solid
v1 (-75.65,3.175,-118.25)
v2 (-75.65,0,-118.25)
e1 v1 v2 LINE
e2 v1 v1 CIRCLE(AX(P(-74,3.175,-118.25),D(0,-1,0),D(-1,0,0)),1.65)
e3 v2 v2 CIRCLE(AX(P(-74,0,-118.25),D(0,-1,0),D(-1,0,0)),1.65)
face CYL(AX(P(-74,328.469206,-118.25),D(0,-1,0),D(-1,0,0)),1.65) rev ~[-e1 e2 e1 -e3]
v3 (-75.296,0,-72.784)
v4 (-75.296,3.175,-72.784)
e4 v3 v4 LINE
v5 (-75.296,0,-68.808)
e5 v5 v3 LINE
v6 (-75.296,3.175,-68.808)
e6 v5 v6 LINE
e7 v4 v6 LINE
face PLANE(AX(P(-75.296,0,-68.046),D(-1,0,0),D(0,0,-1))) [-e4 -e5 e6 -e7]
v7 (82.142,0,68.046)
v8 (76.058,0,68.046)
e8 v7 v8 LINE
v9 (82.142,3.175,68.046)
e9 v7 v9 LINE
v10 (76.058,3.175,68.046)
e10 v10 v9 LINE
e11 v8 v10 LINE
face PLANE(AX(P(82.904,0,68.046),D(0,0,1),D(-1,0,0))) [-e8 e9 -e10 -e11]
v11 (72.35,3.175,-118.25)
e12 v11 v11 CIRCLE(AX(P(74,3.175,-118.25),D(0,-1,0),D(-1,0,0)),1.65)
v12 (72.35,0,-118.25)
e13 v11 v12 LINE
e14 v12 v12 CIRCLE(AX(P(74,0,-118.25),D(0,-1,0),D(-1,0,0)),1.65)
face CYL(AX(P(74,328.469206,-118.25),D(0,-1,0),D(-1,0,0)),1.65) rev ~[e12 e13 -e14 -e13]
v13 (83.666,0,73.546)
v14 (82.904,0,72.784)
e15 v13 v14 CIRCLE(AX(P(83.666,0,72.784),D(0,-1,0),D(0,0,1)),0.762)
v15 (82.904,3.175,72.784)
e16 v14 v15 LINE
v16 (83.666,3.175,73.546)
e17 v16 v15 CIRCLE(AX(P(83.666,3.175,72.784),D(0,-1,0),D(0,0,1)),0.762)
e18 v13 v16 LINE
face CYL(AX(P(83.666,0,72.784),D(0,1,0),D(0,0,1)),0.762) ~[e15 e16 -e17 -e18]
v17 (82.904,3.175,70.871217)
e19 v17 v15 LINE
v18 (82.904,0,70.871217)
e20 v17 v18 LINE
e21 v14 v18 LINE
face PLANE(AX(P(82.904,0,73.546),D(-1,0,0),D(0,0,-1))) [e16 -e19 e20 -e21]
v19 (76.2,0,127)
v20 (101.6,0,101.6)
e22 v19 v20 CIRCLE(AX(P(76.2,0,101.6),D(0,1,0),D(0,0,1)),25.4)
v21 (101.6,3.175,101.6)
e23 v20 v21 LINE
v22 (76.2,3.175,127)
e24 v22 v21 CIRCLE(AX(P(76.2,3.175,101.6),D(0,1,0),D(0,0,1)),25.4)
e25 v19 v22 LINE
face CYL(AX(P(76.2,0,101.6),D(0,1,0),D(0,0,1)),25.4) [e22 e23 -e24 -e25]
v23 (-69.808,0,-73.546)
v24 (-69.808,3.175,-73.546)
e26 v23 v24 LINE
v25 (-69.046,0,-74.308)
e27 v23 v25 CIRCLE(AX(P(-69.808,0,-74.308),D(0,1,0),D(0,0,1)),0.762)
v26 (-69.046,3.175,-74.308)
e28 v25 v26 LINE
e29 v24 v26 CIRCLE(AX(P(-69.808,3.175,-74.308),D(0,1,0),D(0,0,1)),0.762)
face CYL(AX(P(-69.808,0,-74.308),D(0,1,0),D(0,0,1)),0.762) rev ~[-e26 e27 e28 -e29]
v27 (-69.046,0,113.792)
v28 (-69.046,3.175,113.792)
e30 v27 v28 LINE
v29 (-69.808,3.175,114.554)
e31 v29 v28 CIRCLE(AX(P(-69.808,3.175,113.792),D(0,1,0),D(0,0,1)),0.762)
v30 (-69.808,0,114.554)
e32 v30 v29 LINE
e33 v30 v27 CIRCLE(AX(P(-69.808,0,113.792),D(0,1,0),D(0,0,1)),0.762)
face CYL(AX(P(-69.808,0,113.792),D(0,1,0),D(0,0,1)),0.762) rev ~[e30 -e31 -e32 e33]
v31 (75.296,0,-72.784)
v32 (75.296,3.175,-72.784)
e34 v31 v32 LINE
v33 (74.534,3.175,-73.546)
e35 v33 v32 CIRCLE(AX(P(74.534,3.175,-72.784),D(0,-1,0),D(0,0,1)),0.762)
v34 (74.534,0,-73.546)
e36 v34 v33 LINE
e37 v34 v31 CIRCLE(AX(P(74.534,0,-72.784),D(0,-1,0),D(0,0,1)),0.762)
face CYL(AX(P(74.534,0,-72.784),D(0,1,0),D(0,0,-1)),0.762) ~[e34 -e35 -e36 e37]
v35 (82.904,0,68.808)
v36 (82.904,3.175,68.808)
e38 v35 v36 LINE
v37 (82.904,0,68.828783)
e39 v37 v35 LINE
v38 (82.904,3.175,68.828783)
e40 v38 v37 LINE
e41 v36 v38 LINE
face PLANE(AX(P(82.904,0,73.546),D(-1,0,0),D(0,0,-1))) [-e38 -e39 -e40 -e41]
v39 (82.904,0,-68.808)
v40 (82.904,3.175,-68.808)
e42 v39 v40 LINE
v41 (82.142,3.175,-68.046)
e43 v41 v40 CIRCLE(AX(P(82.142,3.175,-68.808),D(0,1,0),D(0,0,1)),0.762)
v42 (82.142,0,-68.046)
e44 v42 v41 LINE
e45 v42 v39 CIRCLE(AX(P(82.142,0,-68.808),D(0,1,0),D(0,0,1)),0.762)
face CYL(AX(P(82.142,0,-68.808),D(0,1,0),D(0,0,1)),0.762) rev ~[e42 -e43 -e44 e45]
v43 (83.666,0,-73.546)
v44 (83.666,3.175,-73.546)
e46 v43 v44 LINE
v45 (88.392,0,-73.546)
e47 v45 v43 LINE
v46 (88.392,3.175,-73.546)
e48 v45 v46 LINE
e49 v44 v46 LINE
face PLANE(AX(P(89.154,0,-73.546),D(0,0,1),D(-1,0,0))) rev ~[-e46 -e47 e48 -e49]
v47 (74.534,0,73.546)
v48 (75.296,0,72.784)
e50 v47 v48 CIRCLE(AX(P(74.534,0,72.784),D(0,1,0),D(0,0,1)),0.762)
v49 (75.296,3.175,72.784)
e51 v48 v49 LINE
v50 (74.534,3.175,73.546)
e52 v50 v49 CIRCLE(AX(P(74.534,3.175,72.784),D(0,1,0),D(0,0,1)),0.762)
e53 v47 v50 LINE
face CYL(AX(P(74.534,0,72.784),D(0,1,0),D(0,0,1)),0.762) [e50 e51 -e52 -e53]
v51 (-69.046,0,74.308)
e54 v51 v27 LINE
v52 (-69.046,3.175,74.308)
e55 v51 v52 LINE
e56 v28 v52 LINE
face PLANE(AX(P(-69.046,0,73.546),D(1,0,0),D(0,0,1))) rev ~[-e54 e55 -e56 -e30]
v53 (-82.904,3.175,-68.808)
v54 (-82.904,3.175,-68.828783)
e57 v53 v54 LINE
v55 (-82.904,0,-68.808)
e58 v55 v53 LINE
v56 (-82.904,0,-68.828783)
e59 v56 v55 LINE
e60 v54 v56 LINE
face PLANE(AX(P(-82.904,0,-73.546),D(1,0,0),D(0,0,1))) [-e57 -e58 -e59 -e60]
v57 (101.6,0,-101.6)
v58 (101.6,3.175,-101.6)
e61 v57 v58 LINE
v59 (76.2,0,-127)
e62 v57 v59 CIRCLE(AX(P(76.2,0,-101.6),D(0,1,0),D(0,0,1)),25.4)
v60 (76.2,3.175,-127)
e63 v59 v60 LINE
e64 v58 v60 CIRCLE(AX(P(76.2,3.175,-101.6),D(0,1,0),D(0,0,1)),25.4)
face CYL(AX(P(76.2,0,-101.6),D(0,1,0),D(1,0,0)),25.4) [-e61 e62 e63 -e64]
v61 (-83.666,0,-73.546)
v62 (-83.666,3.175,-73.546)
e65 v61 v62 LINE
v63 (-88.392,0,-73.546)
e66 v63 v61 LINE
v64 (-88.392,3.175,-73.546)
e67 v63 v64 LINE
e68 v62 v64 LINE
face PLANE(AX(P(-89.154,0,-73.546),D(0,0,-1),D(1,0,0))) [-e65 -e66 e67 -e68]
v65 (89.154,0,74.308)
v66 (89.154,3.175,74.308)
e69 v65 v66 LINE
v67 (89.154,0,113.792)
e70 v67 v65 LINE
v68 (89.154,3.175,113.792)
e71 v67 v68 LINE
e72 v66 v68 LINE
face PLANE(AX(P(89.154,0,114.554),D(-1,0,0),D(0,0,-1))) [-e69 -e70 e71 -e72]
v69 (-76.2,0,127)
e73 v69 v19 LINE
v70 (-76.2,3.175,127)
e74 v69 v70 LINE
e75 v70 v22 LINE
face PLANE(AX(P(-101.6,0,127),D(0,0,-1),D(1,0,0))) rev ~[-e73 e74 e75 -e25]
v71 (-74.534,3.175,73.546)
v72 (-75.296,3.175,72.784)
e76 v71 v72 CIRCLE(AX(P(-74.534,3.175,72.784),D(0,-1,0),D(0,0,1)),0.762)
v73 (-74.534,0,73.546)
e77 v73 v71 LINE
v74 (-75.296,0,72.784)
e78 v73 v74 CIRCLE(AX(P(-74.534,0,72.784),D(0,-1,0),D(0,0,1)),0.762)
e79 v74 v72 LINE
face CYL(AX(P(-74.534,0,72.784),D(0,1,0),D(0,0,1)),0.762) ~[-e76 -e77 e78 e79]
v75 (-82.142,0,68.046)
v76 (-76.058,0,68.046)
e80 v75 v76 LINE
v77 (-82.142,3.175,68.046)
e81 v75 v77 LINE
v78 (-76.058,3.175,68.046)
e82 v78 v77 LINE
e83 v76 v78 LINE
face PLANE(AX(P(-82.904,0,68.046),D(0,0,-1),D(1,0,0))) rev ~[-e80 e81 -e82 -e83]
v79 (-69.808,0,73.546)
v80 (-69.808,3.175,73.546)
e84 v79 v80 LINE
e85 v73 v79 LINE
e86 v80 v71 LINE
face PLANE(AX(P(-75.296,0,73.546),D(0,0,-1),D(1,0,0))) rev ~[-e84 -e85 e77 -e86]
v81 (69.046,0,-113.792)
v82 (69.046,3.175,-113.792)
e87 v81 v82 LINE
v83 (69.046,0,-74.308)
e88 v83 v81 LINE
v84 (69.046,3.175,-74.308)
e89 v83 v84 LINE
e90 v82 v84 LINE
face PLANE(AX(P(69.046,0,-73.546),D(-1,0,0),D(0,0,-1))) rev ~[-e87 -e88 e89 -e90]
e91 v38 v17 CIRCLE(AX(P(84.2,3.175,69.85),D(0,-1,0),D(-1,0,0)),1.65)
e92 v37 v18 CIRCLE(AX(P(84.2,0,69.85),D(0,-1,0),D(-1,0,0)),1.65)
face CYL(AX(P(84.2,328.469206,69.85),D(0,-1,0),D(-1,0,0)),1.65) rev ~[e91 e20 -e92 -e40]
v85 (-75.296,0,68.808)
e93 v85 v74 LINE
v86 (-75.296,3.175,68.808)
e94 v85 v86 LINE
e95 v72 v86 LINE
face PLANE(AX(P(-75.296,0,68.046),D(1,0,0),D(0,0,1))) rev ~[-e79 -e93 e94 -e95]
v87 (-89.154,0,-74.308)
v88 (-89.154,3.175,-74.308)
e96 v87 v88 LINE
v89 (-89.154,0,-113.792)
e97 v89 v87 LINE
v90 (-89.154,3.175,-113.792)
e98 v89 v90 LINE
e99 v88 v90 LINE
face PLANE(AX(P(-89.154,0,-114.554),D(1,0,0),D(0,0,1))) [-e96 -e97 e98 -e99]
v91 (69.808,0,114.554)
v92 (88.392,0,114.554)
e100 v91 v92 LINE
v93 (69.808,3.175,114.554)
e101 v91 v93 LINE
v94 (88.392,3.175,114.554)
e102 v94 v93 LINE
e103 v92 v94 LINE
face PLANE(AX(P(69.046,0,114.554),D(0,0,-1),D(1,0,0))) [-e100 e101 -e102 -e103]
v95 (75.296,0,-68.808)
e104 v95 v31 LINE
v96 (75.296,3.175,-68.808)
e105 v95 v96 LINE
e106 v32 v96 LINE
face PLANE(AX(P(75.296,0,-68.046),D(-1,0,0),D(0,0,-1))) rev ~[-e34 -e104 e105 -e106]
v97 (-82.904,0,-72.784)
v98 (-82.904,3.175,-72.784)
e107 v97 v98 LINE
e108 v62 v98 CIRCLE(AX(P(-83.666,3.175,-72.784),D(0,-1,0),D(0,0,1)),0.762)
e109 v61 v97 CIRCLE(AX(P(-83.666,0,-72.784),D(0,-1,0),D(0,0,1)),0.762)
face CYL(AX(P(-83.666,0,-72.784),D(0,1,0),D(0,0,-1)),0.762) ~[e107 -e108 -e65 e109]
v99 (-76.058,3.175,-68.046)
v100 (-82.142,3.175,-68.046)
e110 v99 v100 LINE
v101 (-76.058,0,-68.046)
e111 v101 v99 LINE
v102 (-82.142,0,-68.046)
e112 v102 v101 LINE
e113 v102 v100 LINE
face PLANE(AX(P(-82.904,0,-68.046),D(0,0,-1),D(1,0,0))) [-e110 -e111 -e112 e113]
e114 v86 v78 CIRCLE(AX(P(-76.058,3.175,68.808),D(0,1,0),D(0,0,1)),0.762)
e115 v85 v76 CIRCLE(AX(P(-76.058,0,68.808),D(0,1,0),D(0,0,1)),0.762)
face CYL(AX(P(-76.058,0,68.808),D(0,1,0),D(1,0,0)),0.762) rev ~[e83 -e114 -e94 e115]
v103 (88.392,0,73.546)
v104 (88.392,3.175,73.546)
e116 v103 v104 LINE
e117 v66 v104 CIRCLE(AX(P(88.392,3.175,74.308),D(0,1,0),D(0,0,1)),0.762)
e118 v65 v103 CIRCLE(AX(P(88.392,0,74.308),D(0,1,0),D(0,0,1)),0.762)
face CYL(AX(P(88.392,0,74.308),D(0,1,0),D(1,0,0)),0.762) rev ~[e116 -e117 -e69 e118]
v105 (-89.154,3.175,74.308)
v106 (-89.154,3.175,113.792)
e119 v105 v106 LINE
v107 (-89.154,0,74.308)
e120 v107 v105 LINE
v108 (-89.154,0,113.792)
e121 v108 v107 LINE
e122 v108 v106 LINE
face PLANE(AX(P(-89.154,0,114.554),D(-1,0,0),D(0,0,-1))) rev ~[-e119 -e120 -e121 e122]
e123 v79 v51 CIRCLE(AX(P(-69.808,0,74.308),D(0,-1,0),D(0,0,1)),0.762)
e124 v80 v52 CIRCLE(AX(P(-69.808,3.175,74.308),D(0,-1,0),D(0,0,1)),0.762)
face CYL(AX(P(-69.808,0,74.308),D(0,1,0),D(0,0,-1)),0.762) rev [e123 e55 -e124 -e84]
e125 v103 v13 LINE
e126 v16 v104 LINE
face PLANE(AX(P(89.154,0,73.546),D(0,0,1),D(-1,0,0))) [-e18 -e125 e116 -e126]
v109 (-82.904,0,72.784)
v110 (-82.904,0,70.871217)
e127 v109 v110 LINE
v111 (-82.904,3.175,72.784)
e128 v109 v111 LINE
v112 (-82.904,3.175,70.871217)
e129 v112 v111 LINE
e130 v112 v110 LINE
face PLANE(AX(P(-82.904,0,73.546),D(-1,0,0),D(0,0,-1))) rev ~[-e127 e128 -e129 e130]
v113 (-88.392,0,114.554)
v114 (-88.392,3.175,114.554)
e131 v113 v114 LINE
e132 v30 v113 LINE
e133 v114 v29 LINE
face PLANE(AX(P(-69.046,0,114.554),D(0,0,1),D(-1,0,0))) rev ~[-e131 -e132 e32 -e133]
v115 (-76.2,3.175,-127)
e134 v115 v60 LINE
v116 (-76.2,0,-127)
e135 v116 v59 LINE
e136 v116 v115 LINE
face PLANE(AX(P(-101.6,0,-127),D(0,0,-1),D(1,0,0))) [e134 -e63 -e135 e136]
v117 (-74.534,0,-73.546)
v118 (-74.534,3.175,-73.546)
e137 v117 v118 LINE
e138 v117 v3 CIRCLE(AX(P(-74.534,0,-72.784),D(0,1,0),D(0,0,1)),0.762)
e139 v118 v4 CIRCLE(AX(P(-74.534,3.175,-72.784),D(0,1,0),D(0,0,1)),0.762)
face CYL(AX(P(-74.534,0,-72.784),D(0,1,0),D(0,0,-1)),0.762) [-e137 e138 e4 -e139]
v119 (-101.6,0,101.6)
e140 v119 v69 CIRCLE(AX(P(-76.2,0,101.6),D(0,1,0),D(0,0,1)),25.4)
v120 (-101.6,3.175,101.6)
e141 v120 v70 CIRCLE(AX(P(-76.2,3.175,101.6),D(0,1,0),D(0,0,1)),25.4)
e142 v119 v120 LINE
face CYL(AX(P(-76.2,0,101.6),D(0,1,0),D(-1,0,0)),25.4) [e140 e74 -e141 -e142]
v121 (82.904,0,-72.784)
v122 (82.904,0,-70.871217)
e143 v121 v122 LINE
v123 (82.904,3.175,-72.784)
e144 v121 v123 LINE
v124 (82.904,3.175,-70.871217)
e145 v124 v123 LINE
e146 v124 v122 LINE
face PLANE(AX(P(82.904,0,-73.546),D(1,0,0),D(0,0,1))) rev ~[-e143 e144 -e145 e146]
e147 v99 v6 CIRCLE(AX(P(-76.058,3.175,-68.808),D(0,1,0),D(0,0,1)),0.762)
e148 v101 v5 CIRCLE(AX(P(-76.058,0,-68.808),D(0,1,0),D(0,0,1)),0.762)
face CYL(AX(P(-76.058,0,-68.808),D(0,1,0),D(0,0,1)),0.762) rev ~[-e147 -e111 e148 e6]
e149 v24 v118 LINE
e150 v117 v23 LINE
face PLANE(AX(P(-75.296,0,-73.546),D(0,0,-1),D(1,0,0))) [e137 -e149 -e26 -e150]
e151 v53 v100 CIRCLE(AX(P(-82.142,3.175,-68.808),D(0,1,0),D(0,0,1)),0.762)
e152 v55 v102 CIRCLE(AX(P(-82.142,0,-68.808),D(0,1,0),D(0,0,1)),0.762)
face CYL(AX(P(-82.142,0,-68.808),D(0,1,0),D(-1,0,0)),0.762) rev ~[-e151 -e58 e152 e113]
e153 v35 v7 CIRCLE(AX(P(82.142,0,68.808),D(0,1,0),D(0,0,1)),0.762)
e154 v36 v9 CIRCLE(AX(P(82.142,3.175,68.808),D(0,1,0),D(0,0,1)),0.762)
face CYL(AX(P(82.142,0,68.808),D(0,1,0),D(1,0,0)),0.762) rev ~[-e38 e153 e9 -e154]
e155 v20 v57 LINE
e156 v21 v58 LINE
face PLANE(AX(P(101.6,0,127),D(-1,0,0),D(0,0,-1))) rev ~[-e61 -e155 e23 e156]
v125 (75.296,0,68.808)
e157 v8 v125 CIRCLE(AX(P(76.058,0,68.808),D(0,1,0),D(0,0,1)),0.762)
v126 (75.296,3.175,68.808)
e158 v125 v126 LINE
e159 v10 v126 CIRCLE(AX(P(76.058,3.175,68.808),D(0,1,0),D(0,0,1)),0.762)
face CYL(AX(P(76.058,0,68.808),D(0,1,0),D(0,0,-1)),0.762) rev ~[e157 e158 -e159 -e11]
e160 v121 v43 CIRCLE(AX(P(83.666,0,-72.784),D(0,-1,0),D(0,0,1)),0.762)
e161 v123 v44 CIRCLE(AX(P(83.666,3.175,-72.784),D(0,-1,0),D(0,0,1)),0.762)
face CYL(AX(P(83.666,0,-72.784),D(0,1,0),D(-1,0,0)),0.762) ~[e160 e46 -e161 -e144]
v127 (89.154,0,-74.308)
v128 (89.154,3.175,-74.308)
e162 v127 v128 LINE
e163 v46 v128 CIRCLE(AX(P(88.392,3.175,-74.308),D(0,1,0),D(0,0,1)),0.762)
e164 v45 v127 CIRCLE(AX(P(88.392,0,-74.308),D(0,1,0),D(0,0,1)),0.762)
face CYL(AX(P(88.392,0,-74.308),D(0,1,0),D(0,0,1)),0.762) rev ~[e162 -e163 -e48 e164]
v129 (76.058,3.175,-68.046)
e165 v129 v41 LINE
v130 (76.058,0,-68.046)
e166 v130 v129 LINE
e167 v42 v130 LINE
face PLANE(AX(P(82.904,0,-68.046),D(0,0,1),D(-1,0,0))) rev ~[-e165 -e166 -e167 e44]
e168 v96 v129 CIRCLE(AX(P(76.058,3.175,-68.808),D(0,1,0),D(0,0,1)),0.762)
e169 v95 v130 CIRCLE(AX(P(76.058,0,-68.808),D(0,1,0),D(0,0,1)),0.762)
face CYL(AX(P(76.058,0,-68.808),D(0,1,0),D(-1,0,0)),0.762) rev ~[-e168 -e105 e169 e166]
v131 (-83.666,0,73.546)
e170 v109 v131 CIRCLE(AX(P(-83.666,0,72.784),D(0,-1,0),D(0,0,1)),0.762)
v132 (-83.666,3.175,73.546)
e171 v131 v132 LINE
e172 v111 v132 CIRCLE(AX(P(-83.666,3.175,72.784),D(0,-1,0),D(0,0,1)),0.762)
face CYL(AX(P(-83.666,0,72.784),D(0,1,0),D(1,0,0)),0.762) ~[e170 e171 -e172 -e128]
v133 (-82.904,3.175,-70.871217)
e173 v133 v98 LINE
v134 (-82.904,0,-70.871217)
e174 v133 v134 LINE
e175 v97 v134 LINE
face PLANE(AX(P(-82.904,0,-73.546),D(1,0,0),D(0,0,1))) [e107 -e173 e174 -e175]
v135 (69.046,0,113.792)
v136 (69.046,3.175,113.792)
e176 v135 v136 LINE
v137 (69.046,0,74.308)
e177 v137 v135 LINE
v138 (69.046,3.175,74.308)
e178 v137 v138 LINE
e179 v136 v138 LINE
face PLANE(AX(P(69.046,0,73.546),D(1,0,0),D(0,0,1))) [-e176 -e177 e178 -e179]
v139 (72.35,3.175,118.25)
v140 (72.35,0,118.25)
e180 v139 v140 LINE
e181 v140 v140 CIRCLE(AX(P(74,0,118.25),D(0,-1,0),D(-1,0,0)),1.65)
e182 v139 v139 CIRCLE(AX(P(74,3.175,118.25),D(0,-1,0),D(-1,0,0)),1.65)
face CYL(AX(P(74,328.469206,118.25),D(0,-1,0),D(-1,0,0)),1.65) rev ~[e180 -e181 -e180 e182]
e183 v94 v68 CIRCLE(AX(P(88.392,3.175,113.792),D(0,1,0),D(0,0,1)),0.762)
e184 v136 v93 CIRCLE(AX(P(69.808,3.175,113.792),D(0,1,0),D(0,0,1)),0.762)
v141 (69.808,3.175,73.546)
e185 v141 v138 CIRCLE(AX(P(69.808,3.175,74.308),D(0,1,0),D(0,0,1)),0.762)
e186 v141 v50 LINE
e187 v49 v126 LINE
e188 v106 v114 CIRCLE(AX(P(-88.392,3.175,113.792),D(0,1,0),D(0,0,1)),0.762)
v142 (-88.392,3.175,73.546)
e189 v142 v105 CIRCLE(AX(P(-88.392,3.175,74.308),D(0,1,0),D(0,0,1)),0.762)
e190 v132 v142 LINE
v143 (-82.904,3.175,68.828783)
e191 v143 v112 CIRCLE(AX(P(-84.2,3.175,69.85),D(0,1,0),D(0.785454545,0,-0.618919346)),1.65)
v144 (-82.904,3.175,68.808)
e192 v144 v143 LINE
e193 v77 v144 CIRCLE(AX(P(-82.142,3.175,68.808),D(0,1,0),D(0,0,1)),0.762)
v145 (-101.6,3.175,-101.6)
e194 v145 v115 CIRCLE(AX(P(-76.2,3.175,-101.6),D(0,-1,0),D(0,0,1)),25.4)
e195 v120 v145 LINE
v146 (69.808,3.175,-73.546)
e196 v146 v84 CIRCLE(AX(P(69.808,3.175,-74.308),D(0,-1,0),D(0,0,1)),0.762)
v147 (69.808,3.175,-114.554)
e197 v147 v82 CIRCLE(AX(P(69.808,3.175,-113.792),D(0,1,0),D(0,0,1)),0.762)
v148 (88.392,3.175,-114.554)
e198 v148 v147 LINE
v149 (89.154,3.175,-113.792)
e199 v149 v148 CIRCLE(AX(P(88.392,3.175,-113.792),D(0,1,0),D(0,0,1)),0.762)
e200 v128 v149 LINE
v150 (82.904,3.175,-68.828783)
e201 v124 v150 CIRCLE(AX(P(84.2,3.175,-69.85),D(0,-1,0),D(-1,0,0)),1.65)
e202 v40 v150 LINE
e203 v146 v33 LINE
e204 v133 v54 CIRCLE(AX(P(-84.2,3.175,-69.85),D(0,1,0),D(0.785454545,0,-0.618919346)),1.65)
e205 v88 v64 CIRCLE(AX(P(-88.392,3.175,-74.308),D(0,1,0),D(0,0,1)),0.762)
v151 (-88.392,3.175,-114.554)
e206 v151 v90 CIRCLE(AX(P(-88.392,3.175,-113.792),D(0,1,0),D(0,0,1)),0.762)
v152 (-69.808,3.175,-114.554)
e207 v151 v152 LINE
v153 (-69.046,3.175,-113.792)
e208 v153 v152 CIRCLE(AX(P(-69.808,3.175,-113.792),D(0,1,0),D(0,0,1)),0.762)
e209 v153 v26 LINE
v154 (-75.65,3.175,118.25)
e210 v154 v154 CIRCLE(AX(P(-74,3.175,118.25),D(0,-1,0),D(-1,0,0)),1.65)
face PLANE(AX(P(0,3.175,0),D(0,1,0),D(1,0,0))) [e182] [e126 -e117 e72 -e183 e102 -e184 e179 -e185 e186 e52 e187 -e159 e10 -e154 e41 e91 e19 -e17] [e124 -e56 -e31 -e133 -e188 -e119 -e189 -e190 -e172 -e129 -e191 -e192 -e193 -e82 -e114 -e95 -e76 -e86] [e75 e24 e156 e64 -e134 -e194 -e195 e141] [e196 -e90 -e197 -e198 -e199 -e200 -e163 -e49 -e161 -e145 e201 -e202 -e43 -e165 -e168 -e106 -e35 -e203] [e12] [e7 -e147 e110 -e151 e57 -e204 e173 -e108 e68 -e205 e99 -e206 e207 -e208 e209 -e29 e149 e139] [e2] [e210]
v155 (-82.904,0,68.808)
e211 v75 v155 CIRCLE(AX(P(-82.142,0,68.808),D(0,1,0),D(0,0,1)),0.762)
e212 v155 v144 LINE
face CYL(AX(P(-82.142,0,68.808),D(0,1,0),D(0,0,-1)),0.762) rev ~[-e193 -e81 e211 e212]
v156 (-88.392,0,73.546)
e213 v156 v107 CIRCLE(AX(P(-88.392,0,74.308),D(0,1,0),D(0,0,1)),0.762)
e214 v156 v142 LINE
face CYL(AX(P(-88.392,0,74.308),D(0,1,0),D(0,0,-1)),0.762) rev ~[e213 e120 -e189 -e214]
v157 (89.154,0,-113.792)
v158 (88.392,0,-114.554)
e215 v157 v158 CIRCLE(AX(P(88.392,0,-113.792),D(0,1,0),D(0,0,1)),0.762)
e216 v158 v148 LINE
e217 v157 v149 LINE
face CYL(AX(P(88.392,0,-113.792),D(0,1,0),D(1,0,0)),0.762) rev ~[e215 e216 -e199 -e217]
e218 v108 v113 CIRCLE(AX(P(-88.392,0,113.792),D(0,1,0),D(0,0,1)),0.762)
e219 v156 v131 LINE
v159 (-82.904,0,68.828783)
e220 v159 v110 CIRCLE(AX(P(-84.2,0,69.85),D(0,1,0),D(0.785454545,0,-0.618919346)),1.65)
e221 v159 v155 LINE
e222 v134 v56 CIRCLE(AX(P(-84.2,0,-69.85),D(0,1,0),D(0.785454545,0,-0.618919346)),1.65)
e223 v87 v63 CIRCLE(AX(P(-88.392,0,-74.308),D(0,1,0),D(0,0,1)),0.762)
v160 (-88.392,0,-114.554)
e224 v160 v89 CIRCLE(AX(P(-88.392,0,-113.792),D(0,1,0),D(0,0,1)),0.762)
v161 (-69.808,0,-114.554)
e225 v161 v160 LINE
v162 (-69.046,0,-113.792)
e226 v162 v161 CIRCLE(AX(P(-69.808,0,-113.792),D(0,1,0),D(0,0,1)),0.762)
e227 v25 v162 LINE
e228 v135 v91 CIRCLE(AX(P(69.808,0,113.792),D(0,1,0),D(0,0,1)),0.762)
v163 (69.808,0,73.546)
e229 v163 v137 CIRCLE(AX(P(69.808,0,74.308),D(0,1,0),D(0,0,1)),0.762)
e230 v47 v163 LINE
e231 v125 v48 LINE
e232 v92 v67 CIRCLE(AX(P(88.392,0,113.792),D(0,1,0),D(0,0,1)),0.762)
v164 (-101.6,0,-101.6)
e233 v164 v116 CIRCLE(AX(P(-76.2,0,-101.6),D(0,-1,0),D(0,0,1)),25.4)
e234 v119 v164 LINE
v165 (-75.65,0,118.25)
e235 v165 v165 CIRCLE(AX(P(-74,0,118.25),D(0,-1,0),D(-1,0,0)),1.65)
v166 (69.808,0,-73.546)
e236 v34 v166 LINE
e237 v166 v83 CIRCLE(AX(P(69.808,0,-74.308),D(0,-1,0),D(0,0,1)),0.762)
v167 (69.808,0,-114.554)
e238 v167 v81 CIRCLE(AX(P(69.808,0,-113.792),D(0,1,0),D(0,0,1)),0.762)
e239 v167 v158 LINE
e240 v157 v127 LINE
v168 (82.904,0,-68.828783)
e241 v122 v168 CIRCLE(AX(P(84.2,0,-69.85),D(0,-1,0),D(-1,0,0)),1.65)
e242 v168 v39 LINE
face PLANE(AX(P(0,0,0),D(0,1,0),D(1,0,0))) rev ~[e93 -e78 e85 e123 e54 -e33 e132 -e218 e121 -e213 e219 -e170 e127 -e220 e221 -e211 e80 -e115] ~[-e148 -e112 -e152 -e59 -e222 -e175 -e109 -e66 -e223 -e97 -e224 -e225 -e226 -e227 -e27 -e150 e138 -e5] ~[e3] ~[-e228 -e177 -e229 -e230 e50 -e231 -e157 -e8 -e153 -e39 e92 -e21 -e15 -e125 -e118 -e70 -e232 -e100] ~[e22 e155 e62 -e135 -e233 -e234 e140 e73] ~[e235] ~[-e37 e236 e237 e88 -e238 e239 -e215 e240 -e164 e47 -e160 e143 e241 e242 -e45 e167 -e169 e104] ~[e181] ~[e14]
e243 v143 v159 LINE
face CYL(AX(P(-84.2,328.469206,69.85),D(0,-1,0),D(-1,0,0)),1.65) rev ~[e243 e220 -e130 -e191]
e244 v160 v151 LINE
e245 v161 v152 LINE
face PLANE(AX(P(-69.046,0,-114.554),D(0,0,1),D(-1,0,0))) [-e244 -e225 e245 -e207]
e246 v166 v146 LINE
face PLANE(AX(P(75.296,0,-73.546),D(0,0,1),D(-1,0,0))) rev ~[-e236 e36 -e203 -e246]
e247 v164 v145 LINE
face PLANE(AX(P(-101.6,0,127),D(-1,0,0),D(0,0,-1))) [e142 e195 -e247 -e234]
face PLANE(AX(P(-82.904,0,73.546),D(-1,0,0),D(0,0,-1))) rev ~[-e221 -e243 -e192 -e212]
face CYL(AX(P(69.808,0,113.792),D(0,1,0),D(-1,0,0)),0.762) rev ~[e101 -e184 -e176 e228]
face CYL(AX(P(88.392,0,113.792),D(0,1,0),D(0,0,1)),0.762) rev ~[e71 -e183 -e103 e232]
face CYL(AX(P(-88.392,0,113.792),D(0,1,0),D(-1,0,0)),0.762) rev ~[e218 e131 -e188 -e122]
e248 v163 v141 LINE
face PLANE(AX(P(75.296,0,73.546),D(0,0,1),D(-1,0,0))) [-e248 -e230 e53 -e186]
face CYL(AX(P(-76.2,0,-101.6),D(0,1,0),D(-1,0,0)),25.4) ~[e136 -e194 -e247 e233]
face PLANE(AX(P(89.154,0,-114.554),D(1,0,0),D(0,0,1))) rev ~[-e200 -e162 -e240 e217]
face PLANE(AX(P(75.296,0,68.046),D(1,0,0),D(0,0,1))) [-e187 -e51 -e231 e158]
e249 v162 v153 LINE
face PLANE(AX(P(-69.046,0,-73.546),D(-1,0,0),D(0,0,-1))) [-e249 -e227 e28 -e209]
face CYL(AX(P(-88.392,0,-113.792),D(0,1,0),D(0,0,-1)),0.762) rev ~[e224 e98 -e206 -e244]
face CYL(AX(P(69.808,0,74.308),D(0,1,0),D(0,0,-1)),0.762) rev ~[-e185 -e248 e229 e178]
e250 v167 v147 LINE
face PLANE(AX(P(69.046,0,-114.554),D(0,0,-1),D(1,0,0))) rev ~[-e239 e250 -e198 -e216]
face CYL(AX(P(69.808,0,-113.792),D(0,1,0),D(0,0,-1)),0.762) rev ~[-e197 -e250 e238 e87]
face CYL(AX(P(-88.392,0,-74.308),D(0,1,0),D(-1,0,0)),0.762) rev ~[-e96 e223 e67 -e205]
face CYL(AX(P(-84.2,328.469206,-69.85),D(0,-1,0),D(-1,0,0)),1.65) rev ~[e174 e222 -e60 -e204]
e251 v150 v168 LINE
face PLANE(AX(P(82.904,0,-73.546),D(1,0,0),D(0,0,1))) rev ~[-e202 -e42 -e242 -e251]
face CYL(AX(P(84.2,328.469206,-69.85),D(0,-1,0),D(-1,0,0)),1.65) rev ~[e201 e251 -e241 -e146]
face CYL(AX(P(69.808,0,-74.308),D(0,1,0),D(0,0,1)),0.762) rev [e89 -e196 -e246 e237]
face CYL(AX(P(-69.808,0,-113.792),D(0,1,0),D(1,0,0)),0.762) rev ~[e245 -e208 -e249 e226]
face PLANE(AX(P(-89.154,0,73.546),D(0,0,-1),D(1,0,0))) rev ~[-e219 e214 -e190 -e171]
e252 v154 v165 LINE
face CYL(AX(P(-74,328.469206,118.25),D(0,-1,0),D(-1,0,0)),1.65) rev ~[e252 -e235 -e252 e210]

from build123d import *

# Parameters (mm, degrees)
SKETCH1_W             = 203.2
SKETCH1_H             = 254
BOSS_EXTRUDE1_DEPTH   = 3.175
FILLET1_R             = 25.4
CUT_EXTRUDE1_DEPTH    = 25.4
FILLET2_R             = 0.762
M4X0_7_TAPPED_HOLE3_D = 3.3


with BuildPart() as part:
    # Sketch1 → Boss-Extrude1 (new body)
    with BuildSketch(Plane(origin=(0, 0, 0), x_dir=(1, 0, 0), z_dir=(0, 1, 0))):
        Rectangle(SKETCH1_W, SKETCH1_H)
    extrude(amount=BOSS_EXTRUDE1_DEPTH)

    # Fillet1
    fillet1_edges = [part.edges().sort_by_distance(p)[0] for p in [
        (101.6, 1.5875, 127),
        (-101.6, 1.5875, 127),
        (-101.6, 1.5875, -127),
        (101.6, 1.5875, -127),
    ]]
    fillet(fillet1_edges, radius=FILLET1_R)

    # Sketch2 → Cut-Extrude1 (cut)
    with BuildSketch(Plane.XZ):
        Polygon((-69.046, 73.546000013), (-69.046, 114.554000013), (-89.154, 114.554000013), (-89.154, 73.546000013), (-82.904, 73.546000013), (-82.904, 68.046000013), (-75.296, 68.046000013), (-75.296, 73.546000013), align=None)
        Polygon((75.296, 73.546000013), (69.046, 73.546000013), (69.046, 114.554000013), (89.154, 114.554000013), (89.154, 73.546000013), (82.904, 73.546000013), (82.904, 68.046000013), (75.296, 68.046000013), align=None)
        Polygon((69.046, -73.546000013), (69.046, -114.554000013), (89.154, -114.554000013), (89.154, -73.546000013), (82.904, -73.546000013), (82.904, -68.046000013), (75.296, -68.046000013), (75.296, -73.546000013), align=None)
        Polygon((-75.296, -73.546000013), (-69.046, -73.546000013), (-69.046, -114.554000013), (-89.154, -114.554000013), (-89.154, -73.546000013), (-82.904, -73.546000013), (-82.904, -68.046000013), (-75.296, -68.046000013), align=None)
    extrude(amount=-CUT_EXTRUDE1_DEPTH, mode=Mode.SUBTRACT)

    # Fillet2
    fillet2_edges = [part.edges().sort_by_distance(p)[0] for p in [
        (-69.046, 1.5875, 73.546000013),
        (-75.296, 1.5875, 73.546000013),
        (-75.296, 1.5875, 68.046000013),
        (-82.904, 1.5875, 68.046000013),
        (-82.904, 1.5875, 73.546000013),
        (-89.154, 1.5875, 73.546000013),
        (-89.154, 1.5875, 114.554000013),
        (-69.046, 1.5875, 114.554000013),
        (-82.904, 1.5875, -68.046000013),
        (-75.296, 1.5875, -68.046000013),
        (-75.296, 1.5875, -73.546000013),
        (-69.046, 1.5875, -73.546000013),
        (-69.046, 1.5875, -114.554000013),
        (-89.154, 1.5875, -114.554000013),
        (-89.154, 1.5875, -73.546000013),
        (-82.904, 1.5875, -73.546000013),
        (69.046, 1.5875, -73.546000013),
        (75.296, 1.5875, -73.546000013),
        (75.296, 1.5875, -68.046000013),
        (82.904, 1.5875, -68.046000013),
        (82.904, 1.5875, -73.546000013),
        (89.154, 1.5875, -73.546000013),
        (89.154, 1.5875, -114.554000013),
        (69.046, 1.5875, -114.554000013),
        (82.904, 1.5875, 68.046000013),
        (75.296, 1.5875, 68.046000013),
        (75.296, 1.5875, 73.546000013),
        (69.046, 1.5875, 73.546000013),
        (69.046, 1.5875, 114.554000013),
        (89.154, 1.5875, 114.554000013),
        (89.154, 1.5875, 73.546000013),
        (82.904, 1.5875, 73.546000013),
    ]]
    fillet(fillet2_edges, radius=FILLET2_R)

    # M4x0.7 Tapped Hole3 (through all)
    with Locations(Plane(origin=(0, 3.175, 0), x_dir=(1, 0, 0), z_dir=(0, 1, 0))):
        with Locations((-84.2, -69.850000013), (-74, -118.250000013), (74, -118.250000013), (84.2, -69.850000013), (84.2, 69.850000013), (74, 118.250000013), (-74, 118.250000013), (-84.2, 69.850000013)):
            Hole(M4X0_7_TAPPED_HOLE3_D / 2)


solid = part.part
